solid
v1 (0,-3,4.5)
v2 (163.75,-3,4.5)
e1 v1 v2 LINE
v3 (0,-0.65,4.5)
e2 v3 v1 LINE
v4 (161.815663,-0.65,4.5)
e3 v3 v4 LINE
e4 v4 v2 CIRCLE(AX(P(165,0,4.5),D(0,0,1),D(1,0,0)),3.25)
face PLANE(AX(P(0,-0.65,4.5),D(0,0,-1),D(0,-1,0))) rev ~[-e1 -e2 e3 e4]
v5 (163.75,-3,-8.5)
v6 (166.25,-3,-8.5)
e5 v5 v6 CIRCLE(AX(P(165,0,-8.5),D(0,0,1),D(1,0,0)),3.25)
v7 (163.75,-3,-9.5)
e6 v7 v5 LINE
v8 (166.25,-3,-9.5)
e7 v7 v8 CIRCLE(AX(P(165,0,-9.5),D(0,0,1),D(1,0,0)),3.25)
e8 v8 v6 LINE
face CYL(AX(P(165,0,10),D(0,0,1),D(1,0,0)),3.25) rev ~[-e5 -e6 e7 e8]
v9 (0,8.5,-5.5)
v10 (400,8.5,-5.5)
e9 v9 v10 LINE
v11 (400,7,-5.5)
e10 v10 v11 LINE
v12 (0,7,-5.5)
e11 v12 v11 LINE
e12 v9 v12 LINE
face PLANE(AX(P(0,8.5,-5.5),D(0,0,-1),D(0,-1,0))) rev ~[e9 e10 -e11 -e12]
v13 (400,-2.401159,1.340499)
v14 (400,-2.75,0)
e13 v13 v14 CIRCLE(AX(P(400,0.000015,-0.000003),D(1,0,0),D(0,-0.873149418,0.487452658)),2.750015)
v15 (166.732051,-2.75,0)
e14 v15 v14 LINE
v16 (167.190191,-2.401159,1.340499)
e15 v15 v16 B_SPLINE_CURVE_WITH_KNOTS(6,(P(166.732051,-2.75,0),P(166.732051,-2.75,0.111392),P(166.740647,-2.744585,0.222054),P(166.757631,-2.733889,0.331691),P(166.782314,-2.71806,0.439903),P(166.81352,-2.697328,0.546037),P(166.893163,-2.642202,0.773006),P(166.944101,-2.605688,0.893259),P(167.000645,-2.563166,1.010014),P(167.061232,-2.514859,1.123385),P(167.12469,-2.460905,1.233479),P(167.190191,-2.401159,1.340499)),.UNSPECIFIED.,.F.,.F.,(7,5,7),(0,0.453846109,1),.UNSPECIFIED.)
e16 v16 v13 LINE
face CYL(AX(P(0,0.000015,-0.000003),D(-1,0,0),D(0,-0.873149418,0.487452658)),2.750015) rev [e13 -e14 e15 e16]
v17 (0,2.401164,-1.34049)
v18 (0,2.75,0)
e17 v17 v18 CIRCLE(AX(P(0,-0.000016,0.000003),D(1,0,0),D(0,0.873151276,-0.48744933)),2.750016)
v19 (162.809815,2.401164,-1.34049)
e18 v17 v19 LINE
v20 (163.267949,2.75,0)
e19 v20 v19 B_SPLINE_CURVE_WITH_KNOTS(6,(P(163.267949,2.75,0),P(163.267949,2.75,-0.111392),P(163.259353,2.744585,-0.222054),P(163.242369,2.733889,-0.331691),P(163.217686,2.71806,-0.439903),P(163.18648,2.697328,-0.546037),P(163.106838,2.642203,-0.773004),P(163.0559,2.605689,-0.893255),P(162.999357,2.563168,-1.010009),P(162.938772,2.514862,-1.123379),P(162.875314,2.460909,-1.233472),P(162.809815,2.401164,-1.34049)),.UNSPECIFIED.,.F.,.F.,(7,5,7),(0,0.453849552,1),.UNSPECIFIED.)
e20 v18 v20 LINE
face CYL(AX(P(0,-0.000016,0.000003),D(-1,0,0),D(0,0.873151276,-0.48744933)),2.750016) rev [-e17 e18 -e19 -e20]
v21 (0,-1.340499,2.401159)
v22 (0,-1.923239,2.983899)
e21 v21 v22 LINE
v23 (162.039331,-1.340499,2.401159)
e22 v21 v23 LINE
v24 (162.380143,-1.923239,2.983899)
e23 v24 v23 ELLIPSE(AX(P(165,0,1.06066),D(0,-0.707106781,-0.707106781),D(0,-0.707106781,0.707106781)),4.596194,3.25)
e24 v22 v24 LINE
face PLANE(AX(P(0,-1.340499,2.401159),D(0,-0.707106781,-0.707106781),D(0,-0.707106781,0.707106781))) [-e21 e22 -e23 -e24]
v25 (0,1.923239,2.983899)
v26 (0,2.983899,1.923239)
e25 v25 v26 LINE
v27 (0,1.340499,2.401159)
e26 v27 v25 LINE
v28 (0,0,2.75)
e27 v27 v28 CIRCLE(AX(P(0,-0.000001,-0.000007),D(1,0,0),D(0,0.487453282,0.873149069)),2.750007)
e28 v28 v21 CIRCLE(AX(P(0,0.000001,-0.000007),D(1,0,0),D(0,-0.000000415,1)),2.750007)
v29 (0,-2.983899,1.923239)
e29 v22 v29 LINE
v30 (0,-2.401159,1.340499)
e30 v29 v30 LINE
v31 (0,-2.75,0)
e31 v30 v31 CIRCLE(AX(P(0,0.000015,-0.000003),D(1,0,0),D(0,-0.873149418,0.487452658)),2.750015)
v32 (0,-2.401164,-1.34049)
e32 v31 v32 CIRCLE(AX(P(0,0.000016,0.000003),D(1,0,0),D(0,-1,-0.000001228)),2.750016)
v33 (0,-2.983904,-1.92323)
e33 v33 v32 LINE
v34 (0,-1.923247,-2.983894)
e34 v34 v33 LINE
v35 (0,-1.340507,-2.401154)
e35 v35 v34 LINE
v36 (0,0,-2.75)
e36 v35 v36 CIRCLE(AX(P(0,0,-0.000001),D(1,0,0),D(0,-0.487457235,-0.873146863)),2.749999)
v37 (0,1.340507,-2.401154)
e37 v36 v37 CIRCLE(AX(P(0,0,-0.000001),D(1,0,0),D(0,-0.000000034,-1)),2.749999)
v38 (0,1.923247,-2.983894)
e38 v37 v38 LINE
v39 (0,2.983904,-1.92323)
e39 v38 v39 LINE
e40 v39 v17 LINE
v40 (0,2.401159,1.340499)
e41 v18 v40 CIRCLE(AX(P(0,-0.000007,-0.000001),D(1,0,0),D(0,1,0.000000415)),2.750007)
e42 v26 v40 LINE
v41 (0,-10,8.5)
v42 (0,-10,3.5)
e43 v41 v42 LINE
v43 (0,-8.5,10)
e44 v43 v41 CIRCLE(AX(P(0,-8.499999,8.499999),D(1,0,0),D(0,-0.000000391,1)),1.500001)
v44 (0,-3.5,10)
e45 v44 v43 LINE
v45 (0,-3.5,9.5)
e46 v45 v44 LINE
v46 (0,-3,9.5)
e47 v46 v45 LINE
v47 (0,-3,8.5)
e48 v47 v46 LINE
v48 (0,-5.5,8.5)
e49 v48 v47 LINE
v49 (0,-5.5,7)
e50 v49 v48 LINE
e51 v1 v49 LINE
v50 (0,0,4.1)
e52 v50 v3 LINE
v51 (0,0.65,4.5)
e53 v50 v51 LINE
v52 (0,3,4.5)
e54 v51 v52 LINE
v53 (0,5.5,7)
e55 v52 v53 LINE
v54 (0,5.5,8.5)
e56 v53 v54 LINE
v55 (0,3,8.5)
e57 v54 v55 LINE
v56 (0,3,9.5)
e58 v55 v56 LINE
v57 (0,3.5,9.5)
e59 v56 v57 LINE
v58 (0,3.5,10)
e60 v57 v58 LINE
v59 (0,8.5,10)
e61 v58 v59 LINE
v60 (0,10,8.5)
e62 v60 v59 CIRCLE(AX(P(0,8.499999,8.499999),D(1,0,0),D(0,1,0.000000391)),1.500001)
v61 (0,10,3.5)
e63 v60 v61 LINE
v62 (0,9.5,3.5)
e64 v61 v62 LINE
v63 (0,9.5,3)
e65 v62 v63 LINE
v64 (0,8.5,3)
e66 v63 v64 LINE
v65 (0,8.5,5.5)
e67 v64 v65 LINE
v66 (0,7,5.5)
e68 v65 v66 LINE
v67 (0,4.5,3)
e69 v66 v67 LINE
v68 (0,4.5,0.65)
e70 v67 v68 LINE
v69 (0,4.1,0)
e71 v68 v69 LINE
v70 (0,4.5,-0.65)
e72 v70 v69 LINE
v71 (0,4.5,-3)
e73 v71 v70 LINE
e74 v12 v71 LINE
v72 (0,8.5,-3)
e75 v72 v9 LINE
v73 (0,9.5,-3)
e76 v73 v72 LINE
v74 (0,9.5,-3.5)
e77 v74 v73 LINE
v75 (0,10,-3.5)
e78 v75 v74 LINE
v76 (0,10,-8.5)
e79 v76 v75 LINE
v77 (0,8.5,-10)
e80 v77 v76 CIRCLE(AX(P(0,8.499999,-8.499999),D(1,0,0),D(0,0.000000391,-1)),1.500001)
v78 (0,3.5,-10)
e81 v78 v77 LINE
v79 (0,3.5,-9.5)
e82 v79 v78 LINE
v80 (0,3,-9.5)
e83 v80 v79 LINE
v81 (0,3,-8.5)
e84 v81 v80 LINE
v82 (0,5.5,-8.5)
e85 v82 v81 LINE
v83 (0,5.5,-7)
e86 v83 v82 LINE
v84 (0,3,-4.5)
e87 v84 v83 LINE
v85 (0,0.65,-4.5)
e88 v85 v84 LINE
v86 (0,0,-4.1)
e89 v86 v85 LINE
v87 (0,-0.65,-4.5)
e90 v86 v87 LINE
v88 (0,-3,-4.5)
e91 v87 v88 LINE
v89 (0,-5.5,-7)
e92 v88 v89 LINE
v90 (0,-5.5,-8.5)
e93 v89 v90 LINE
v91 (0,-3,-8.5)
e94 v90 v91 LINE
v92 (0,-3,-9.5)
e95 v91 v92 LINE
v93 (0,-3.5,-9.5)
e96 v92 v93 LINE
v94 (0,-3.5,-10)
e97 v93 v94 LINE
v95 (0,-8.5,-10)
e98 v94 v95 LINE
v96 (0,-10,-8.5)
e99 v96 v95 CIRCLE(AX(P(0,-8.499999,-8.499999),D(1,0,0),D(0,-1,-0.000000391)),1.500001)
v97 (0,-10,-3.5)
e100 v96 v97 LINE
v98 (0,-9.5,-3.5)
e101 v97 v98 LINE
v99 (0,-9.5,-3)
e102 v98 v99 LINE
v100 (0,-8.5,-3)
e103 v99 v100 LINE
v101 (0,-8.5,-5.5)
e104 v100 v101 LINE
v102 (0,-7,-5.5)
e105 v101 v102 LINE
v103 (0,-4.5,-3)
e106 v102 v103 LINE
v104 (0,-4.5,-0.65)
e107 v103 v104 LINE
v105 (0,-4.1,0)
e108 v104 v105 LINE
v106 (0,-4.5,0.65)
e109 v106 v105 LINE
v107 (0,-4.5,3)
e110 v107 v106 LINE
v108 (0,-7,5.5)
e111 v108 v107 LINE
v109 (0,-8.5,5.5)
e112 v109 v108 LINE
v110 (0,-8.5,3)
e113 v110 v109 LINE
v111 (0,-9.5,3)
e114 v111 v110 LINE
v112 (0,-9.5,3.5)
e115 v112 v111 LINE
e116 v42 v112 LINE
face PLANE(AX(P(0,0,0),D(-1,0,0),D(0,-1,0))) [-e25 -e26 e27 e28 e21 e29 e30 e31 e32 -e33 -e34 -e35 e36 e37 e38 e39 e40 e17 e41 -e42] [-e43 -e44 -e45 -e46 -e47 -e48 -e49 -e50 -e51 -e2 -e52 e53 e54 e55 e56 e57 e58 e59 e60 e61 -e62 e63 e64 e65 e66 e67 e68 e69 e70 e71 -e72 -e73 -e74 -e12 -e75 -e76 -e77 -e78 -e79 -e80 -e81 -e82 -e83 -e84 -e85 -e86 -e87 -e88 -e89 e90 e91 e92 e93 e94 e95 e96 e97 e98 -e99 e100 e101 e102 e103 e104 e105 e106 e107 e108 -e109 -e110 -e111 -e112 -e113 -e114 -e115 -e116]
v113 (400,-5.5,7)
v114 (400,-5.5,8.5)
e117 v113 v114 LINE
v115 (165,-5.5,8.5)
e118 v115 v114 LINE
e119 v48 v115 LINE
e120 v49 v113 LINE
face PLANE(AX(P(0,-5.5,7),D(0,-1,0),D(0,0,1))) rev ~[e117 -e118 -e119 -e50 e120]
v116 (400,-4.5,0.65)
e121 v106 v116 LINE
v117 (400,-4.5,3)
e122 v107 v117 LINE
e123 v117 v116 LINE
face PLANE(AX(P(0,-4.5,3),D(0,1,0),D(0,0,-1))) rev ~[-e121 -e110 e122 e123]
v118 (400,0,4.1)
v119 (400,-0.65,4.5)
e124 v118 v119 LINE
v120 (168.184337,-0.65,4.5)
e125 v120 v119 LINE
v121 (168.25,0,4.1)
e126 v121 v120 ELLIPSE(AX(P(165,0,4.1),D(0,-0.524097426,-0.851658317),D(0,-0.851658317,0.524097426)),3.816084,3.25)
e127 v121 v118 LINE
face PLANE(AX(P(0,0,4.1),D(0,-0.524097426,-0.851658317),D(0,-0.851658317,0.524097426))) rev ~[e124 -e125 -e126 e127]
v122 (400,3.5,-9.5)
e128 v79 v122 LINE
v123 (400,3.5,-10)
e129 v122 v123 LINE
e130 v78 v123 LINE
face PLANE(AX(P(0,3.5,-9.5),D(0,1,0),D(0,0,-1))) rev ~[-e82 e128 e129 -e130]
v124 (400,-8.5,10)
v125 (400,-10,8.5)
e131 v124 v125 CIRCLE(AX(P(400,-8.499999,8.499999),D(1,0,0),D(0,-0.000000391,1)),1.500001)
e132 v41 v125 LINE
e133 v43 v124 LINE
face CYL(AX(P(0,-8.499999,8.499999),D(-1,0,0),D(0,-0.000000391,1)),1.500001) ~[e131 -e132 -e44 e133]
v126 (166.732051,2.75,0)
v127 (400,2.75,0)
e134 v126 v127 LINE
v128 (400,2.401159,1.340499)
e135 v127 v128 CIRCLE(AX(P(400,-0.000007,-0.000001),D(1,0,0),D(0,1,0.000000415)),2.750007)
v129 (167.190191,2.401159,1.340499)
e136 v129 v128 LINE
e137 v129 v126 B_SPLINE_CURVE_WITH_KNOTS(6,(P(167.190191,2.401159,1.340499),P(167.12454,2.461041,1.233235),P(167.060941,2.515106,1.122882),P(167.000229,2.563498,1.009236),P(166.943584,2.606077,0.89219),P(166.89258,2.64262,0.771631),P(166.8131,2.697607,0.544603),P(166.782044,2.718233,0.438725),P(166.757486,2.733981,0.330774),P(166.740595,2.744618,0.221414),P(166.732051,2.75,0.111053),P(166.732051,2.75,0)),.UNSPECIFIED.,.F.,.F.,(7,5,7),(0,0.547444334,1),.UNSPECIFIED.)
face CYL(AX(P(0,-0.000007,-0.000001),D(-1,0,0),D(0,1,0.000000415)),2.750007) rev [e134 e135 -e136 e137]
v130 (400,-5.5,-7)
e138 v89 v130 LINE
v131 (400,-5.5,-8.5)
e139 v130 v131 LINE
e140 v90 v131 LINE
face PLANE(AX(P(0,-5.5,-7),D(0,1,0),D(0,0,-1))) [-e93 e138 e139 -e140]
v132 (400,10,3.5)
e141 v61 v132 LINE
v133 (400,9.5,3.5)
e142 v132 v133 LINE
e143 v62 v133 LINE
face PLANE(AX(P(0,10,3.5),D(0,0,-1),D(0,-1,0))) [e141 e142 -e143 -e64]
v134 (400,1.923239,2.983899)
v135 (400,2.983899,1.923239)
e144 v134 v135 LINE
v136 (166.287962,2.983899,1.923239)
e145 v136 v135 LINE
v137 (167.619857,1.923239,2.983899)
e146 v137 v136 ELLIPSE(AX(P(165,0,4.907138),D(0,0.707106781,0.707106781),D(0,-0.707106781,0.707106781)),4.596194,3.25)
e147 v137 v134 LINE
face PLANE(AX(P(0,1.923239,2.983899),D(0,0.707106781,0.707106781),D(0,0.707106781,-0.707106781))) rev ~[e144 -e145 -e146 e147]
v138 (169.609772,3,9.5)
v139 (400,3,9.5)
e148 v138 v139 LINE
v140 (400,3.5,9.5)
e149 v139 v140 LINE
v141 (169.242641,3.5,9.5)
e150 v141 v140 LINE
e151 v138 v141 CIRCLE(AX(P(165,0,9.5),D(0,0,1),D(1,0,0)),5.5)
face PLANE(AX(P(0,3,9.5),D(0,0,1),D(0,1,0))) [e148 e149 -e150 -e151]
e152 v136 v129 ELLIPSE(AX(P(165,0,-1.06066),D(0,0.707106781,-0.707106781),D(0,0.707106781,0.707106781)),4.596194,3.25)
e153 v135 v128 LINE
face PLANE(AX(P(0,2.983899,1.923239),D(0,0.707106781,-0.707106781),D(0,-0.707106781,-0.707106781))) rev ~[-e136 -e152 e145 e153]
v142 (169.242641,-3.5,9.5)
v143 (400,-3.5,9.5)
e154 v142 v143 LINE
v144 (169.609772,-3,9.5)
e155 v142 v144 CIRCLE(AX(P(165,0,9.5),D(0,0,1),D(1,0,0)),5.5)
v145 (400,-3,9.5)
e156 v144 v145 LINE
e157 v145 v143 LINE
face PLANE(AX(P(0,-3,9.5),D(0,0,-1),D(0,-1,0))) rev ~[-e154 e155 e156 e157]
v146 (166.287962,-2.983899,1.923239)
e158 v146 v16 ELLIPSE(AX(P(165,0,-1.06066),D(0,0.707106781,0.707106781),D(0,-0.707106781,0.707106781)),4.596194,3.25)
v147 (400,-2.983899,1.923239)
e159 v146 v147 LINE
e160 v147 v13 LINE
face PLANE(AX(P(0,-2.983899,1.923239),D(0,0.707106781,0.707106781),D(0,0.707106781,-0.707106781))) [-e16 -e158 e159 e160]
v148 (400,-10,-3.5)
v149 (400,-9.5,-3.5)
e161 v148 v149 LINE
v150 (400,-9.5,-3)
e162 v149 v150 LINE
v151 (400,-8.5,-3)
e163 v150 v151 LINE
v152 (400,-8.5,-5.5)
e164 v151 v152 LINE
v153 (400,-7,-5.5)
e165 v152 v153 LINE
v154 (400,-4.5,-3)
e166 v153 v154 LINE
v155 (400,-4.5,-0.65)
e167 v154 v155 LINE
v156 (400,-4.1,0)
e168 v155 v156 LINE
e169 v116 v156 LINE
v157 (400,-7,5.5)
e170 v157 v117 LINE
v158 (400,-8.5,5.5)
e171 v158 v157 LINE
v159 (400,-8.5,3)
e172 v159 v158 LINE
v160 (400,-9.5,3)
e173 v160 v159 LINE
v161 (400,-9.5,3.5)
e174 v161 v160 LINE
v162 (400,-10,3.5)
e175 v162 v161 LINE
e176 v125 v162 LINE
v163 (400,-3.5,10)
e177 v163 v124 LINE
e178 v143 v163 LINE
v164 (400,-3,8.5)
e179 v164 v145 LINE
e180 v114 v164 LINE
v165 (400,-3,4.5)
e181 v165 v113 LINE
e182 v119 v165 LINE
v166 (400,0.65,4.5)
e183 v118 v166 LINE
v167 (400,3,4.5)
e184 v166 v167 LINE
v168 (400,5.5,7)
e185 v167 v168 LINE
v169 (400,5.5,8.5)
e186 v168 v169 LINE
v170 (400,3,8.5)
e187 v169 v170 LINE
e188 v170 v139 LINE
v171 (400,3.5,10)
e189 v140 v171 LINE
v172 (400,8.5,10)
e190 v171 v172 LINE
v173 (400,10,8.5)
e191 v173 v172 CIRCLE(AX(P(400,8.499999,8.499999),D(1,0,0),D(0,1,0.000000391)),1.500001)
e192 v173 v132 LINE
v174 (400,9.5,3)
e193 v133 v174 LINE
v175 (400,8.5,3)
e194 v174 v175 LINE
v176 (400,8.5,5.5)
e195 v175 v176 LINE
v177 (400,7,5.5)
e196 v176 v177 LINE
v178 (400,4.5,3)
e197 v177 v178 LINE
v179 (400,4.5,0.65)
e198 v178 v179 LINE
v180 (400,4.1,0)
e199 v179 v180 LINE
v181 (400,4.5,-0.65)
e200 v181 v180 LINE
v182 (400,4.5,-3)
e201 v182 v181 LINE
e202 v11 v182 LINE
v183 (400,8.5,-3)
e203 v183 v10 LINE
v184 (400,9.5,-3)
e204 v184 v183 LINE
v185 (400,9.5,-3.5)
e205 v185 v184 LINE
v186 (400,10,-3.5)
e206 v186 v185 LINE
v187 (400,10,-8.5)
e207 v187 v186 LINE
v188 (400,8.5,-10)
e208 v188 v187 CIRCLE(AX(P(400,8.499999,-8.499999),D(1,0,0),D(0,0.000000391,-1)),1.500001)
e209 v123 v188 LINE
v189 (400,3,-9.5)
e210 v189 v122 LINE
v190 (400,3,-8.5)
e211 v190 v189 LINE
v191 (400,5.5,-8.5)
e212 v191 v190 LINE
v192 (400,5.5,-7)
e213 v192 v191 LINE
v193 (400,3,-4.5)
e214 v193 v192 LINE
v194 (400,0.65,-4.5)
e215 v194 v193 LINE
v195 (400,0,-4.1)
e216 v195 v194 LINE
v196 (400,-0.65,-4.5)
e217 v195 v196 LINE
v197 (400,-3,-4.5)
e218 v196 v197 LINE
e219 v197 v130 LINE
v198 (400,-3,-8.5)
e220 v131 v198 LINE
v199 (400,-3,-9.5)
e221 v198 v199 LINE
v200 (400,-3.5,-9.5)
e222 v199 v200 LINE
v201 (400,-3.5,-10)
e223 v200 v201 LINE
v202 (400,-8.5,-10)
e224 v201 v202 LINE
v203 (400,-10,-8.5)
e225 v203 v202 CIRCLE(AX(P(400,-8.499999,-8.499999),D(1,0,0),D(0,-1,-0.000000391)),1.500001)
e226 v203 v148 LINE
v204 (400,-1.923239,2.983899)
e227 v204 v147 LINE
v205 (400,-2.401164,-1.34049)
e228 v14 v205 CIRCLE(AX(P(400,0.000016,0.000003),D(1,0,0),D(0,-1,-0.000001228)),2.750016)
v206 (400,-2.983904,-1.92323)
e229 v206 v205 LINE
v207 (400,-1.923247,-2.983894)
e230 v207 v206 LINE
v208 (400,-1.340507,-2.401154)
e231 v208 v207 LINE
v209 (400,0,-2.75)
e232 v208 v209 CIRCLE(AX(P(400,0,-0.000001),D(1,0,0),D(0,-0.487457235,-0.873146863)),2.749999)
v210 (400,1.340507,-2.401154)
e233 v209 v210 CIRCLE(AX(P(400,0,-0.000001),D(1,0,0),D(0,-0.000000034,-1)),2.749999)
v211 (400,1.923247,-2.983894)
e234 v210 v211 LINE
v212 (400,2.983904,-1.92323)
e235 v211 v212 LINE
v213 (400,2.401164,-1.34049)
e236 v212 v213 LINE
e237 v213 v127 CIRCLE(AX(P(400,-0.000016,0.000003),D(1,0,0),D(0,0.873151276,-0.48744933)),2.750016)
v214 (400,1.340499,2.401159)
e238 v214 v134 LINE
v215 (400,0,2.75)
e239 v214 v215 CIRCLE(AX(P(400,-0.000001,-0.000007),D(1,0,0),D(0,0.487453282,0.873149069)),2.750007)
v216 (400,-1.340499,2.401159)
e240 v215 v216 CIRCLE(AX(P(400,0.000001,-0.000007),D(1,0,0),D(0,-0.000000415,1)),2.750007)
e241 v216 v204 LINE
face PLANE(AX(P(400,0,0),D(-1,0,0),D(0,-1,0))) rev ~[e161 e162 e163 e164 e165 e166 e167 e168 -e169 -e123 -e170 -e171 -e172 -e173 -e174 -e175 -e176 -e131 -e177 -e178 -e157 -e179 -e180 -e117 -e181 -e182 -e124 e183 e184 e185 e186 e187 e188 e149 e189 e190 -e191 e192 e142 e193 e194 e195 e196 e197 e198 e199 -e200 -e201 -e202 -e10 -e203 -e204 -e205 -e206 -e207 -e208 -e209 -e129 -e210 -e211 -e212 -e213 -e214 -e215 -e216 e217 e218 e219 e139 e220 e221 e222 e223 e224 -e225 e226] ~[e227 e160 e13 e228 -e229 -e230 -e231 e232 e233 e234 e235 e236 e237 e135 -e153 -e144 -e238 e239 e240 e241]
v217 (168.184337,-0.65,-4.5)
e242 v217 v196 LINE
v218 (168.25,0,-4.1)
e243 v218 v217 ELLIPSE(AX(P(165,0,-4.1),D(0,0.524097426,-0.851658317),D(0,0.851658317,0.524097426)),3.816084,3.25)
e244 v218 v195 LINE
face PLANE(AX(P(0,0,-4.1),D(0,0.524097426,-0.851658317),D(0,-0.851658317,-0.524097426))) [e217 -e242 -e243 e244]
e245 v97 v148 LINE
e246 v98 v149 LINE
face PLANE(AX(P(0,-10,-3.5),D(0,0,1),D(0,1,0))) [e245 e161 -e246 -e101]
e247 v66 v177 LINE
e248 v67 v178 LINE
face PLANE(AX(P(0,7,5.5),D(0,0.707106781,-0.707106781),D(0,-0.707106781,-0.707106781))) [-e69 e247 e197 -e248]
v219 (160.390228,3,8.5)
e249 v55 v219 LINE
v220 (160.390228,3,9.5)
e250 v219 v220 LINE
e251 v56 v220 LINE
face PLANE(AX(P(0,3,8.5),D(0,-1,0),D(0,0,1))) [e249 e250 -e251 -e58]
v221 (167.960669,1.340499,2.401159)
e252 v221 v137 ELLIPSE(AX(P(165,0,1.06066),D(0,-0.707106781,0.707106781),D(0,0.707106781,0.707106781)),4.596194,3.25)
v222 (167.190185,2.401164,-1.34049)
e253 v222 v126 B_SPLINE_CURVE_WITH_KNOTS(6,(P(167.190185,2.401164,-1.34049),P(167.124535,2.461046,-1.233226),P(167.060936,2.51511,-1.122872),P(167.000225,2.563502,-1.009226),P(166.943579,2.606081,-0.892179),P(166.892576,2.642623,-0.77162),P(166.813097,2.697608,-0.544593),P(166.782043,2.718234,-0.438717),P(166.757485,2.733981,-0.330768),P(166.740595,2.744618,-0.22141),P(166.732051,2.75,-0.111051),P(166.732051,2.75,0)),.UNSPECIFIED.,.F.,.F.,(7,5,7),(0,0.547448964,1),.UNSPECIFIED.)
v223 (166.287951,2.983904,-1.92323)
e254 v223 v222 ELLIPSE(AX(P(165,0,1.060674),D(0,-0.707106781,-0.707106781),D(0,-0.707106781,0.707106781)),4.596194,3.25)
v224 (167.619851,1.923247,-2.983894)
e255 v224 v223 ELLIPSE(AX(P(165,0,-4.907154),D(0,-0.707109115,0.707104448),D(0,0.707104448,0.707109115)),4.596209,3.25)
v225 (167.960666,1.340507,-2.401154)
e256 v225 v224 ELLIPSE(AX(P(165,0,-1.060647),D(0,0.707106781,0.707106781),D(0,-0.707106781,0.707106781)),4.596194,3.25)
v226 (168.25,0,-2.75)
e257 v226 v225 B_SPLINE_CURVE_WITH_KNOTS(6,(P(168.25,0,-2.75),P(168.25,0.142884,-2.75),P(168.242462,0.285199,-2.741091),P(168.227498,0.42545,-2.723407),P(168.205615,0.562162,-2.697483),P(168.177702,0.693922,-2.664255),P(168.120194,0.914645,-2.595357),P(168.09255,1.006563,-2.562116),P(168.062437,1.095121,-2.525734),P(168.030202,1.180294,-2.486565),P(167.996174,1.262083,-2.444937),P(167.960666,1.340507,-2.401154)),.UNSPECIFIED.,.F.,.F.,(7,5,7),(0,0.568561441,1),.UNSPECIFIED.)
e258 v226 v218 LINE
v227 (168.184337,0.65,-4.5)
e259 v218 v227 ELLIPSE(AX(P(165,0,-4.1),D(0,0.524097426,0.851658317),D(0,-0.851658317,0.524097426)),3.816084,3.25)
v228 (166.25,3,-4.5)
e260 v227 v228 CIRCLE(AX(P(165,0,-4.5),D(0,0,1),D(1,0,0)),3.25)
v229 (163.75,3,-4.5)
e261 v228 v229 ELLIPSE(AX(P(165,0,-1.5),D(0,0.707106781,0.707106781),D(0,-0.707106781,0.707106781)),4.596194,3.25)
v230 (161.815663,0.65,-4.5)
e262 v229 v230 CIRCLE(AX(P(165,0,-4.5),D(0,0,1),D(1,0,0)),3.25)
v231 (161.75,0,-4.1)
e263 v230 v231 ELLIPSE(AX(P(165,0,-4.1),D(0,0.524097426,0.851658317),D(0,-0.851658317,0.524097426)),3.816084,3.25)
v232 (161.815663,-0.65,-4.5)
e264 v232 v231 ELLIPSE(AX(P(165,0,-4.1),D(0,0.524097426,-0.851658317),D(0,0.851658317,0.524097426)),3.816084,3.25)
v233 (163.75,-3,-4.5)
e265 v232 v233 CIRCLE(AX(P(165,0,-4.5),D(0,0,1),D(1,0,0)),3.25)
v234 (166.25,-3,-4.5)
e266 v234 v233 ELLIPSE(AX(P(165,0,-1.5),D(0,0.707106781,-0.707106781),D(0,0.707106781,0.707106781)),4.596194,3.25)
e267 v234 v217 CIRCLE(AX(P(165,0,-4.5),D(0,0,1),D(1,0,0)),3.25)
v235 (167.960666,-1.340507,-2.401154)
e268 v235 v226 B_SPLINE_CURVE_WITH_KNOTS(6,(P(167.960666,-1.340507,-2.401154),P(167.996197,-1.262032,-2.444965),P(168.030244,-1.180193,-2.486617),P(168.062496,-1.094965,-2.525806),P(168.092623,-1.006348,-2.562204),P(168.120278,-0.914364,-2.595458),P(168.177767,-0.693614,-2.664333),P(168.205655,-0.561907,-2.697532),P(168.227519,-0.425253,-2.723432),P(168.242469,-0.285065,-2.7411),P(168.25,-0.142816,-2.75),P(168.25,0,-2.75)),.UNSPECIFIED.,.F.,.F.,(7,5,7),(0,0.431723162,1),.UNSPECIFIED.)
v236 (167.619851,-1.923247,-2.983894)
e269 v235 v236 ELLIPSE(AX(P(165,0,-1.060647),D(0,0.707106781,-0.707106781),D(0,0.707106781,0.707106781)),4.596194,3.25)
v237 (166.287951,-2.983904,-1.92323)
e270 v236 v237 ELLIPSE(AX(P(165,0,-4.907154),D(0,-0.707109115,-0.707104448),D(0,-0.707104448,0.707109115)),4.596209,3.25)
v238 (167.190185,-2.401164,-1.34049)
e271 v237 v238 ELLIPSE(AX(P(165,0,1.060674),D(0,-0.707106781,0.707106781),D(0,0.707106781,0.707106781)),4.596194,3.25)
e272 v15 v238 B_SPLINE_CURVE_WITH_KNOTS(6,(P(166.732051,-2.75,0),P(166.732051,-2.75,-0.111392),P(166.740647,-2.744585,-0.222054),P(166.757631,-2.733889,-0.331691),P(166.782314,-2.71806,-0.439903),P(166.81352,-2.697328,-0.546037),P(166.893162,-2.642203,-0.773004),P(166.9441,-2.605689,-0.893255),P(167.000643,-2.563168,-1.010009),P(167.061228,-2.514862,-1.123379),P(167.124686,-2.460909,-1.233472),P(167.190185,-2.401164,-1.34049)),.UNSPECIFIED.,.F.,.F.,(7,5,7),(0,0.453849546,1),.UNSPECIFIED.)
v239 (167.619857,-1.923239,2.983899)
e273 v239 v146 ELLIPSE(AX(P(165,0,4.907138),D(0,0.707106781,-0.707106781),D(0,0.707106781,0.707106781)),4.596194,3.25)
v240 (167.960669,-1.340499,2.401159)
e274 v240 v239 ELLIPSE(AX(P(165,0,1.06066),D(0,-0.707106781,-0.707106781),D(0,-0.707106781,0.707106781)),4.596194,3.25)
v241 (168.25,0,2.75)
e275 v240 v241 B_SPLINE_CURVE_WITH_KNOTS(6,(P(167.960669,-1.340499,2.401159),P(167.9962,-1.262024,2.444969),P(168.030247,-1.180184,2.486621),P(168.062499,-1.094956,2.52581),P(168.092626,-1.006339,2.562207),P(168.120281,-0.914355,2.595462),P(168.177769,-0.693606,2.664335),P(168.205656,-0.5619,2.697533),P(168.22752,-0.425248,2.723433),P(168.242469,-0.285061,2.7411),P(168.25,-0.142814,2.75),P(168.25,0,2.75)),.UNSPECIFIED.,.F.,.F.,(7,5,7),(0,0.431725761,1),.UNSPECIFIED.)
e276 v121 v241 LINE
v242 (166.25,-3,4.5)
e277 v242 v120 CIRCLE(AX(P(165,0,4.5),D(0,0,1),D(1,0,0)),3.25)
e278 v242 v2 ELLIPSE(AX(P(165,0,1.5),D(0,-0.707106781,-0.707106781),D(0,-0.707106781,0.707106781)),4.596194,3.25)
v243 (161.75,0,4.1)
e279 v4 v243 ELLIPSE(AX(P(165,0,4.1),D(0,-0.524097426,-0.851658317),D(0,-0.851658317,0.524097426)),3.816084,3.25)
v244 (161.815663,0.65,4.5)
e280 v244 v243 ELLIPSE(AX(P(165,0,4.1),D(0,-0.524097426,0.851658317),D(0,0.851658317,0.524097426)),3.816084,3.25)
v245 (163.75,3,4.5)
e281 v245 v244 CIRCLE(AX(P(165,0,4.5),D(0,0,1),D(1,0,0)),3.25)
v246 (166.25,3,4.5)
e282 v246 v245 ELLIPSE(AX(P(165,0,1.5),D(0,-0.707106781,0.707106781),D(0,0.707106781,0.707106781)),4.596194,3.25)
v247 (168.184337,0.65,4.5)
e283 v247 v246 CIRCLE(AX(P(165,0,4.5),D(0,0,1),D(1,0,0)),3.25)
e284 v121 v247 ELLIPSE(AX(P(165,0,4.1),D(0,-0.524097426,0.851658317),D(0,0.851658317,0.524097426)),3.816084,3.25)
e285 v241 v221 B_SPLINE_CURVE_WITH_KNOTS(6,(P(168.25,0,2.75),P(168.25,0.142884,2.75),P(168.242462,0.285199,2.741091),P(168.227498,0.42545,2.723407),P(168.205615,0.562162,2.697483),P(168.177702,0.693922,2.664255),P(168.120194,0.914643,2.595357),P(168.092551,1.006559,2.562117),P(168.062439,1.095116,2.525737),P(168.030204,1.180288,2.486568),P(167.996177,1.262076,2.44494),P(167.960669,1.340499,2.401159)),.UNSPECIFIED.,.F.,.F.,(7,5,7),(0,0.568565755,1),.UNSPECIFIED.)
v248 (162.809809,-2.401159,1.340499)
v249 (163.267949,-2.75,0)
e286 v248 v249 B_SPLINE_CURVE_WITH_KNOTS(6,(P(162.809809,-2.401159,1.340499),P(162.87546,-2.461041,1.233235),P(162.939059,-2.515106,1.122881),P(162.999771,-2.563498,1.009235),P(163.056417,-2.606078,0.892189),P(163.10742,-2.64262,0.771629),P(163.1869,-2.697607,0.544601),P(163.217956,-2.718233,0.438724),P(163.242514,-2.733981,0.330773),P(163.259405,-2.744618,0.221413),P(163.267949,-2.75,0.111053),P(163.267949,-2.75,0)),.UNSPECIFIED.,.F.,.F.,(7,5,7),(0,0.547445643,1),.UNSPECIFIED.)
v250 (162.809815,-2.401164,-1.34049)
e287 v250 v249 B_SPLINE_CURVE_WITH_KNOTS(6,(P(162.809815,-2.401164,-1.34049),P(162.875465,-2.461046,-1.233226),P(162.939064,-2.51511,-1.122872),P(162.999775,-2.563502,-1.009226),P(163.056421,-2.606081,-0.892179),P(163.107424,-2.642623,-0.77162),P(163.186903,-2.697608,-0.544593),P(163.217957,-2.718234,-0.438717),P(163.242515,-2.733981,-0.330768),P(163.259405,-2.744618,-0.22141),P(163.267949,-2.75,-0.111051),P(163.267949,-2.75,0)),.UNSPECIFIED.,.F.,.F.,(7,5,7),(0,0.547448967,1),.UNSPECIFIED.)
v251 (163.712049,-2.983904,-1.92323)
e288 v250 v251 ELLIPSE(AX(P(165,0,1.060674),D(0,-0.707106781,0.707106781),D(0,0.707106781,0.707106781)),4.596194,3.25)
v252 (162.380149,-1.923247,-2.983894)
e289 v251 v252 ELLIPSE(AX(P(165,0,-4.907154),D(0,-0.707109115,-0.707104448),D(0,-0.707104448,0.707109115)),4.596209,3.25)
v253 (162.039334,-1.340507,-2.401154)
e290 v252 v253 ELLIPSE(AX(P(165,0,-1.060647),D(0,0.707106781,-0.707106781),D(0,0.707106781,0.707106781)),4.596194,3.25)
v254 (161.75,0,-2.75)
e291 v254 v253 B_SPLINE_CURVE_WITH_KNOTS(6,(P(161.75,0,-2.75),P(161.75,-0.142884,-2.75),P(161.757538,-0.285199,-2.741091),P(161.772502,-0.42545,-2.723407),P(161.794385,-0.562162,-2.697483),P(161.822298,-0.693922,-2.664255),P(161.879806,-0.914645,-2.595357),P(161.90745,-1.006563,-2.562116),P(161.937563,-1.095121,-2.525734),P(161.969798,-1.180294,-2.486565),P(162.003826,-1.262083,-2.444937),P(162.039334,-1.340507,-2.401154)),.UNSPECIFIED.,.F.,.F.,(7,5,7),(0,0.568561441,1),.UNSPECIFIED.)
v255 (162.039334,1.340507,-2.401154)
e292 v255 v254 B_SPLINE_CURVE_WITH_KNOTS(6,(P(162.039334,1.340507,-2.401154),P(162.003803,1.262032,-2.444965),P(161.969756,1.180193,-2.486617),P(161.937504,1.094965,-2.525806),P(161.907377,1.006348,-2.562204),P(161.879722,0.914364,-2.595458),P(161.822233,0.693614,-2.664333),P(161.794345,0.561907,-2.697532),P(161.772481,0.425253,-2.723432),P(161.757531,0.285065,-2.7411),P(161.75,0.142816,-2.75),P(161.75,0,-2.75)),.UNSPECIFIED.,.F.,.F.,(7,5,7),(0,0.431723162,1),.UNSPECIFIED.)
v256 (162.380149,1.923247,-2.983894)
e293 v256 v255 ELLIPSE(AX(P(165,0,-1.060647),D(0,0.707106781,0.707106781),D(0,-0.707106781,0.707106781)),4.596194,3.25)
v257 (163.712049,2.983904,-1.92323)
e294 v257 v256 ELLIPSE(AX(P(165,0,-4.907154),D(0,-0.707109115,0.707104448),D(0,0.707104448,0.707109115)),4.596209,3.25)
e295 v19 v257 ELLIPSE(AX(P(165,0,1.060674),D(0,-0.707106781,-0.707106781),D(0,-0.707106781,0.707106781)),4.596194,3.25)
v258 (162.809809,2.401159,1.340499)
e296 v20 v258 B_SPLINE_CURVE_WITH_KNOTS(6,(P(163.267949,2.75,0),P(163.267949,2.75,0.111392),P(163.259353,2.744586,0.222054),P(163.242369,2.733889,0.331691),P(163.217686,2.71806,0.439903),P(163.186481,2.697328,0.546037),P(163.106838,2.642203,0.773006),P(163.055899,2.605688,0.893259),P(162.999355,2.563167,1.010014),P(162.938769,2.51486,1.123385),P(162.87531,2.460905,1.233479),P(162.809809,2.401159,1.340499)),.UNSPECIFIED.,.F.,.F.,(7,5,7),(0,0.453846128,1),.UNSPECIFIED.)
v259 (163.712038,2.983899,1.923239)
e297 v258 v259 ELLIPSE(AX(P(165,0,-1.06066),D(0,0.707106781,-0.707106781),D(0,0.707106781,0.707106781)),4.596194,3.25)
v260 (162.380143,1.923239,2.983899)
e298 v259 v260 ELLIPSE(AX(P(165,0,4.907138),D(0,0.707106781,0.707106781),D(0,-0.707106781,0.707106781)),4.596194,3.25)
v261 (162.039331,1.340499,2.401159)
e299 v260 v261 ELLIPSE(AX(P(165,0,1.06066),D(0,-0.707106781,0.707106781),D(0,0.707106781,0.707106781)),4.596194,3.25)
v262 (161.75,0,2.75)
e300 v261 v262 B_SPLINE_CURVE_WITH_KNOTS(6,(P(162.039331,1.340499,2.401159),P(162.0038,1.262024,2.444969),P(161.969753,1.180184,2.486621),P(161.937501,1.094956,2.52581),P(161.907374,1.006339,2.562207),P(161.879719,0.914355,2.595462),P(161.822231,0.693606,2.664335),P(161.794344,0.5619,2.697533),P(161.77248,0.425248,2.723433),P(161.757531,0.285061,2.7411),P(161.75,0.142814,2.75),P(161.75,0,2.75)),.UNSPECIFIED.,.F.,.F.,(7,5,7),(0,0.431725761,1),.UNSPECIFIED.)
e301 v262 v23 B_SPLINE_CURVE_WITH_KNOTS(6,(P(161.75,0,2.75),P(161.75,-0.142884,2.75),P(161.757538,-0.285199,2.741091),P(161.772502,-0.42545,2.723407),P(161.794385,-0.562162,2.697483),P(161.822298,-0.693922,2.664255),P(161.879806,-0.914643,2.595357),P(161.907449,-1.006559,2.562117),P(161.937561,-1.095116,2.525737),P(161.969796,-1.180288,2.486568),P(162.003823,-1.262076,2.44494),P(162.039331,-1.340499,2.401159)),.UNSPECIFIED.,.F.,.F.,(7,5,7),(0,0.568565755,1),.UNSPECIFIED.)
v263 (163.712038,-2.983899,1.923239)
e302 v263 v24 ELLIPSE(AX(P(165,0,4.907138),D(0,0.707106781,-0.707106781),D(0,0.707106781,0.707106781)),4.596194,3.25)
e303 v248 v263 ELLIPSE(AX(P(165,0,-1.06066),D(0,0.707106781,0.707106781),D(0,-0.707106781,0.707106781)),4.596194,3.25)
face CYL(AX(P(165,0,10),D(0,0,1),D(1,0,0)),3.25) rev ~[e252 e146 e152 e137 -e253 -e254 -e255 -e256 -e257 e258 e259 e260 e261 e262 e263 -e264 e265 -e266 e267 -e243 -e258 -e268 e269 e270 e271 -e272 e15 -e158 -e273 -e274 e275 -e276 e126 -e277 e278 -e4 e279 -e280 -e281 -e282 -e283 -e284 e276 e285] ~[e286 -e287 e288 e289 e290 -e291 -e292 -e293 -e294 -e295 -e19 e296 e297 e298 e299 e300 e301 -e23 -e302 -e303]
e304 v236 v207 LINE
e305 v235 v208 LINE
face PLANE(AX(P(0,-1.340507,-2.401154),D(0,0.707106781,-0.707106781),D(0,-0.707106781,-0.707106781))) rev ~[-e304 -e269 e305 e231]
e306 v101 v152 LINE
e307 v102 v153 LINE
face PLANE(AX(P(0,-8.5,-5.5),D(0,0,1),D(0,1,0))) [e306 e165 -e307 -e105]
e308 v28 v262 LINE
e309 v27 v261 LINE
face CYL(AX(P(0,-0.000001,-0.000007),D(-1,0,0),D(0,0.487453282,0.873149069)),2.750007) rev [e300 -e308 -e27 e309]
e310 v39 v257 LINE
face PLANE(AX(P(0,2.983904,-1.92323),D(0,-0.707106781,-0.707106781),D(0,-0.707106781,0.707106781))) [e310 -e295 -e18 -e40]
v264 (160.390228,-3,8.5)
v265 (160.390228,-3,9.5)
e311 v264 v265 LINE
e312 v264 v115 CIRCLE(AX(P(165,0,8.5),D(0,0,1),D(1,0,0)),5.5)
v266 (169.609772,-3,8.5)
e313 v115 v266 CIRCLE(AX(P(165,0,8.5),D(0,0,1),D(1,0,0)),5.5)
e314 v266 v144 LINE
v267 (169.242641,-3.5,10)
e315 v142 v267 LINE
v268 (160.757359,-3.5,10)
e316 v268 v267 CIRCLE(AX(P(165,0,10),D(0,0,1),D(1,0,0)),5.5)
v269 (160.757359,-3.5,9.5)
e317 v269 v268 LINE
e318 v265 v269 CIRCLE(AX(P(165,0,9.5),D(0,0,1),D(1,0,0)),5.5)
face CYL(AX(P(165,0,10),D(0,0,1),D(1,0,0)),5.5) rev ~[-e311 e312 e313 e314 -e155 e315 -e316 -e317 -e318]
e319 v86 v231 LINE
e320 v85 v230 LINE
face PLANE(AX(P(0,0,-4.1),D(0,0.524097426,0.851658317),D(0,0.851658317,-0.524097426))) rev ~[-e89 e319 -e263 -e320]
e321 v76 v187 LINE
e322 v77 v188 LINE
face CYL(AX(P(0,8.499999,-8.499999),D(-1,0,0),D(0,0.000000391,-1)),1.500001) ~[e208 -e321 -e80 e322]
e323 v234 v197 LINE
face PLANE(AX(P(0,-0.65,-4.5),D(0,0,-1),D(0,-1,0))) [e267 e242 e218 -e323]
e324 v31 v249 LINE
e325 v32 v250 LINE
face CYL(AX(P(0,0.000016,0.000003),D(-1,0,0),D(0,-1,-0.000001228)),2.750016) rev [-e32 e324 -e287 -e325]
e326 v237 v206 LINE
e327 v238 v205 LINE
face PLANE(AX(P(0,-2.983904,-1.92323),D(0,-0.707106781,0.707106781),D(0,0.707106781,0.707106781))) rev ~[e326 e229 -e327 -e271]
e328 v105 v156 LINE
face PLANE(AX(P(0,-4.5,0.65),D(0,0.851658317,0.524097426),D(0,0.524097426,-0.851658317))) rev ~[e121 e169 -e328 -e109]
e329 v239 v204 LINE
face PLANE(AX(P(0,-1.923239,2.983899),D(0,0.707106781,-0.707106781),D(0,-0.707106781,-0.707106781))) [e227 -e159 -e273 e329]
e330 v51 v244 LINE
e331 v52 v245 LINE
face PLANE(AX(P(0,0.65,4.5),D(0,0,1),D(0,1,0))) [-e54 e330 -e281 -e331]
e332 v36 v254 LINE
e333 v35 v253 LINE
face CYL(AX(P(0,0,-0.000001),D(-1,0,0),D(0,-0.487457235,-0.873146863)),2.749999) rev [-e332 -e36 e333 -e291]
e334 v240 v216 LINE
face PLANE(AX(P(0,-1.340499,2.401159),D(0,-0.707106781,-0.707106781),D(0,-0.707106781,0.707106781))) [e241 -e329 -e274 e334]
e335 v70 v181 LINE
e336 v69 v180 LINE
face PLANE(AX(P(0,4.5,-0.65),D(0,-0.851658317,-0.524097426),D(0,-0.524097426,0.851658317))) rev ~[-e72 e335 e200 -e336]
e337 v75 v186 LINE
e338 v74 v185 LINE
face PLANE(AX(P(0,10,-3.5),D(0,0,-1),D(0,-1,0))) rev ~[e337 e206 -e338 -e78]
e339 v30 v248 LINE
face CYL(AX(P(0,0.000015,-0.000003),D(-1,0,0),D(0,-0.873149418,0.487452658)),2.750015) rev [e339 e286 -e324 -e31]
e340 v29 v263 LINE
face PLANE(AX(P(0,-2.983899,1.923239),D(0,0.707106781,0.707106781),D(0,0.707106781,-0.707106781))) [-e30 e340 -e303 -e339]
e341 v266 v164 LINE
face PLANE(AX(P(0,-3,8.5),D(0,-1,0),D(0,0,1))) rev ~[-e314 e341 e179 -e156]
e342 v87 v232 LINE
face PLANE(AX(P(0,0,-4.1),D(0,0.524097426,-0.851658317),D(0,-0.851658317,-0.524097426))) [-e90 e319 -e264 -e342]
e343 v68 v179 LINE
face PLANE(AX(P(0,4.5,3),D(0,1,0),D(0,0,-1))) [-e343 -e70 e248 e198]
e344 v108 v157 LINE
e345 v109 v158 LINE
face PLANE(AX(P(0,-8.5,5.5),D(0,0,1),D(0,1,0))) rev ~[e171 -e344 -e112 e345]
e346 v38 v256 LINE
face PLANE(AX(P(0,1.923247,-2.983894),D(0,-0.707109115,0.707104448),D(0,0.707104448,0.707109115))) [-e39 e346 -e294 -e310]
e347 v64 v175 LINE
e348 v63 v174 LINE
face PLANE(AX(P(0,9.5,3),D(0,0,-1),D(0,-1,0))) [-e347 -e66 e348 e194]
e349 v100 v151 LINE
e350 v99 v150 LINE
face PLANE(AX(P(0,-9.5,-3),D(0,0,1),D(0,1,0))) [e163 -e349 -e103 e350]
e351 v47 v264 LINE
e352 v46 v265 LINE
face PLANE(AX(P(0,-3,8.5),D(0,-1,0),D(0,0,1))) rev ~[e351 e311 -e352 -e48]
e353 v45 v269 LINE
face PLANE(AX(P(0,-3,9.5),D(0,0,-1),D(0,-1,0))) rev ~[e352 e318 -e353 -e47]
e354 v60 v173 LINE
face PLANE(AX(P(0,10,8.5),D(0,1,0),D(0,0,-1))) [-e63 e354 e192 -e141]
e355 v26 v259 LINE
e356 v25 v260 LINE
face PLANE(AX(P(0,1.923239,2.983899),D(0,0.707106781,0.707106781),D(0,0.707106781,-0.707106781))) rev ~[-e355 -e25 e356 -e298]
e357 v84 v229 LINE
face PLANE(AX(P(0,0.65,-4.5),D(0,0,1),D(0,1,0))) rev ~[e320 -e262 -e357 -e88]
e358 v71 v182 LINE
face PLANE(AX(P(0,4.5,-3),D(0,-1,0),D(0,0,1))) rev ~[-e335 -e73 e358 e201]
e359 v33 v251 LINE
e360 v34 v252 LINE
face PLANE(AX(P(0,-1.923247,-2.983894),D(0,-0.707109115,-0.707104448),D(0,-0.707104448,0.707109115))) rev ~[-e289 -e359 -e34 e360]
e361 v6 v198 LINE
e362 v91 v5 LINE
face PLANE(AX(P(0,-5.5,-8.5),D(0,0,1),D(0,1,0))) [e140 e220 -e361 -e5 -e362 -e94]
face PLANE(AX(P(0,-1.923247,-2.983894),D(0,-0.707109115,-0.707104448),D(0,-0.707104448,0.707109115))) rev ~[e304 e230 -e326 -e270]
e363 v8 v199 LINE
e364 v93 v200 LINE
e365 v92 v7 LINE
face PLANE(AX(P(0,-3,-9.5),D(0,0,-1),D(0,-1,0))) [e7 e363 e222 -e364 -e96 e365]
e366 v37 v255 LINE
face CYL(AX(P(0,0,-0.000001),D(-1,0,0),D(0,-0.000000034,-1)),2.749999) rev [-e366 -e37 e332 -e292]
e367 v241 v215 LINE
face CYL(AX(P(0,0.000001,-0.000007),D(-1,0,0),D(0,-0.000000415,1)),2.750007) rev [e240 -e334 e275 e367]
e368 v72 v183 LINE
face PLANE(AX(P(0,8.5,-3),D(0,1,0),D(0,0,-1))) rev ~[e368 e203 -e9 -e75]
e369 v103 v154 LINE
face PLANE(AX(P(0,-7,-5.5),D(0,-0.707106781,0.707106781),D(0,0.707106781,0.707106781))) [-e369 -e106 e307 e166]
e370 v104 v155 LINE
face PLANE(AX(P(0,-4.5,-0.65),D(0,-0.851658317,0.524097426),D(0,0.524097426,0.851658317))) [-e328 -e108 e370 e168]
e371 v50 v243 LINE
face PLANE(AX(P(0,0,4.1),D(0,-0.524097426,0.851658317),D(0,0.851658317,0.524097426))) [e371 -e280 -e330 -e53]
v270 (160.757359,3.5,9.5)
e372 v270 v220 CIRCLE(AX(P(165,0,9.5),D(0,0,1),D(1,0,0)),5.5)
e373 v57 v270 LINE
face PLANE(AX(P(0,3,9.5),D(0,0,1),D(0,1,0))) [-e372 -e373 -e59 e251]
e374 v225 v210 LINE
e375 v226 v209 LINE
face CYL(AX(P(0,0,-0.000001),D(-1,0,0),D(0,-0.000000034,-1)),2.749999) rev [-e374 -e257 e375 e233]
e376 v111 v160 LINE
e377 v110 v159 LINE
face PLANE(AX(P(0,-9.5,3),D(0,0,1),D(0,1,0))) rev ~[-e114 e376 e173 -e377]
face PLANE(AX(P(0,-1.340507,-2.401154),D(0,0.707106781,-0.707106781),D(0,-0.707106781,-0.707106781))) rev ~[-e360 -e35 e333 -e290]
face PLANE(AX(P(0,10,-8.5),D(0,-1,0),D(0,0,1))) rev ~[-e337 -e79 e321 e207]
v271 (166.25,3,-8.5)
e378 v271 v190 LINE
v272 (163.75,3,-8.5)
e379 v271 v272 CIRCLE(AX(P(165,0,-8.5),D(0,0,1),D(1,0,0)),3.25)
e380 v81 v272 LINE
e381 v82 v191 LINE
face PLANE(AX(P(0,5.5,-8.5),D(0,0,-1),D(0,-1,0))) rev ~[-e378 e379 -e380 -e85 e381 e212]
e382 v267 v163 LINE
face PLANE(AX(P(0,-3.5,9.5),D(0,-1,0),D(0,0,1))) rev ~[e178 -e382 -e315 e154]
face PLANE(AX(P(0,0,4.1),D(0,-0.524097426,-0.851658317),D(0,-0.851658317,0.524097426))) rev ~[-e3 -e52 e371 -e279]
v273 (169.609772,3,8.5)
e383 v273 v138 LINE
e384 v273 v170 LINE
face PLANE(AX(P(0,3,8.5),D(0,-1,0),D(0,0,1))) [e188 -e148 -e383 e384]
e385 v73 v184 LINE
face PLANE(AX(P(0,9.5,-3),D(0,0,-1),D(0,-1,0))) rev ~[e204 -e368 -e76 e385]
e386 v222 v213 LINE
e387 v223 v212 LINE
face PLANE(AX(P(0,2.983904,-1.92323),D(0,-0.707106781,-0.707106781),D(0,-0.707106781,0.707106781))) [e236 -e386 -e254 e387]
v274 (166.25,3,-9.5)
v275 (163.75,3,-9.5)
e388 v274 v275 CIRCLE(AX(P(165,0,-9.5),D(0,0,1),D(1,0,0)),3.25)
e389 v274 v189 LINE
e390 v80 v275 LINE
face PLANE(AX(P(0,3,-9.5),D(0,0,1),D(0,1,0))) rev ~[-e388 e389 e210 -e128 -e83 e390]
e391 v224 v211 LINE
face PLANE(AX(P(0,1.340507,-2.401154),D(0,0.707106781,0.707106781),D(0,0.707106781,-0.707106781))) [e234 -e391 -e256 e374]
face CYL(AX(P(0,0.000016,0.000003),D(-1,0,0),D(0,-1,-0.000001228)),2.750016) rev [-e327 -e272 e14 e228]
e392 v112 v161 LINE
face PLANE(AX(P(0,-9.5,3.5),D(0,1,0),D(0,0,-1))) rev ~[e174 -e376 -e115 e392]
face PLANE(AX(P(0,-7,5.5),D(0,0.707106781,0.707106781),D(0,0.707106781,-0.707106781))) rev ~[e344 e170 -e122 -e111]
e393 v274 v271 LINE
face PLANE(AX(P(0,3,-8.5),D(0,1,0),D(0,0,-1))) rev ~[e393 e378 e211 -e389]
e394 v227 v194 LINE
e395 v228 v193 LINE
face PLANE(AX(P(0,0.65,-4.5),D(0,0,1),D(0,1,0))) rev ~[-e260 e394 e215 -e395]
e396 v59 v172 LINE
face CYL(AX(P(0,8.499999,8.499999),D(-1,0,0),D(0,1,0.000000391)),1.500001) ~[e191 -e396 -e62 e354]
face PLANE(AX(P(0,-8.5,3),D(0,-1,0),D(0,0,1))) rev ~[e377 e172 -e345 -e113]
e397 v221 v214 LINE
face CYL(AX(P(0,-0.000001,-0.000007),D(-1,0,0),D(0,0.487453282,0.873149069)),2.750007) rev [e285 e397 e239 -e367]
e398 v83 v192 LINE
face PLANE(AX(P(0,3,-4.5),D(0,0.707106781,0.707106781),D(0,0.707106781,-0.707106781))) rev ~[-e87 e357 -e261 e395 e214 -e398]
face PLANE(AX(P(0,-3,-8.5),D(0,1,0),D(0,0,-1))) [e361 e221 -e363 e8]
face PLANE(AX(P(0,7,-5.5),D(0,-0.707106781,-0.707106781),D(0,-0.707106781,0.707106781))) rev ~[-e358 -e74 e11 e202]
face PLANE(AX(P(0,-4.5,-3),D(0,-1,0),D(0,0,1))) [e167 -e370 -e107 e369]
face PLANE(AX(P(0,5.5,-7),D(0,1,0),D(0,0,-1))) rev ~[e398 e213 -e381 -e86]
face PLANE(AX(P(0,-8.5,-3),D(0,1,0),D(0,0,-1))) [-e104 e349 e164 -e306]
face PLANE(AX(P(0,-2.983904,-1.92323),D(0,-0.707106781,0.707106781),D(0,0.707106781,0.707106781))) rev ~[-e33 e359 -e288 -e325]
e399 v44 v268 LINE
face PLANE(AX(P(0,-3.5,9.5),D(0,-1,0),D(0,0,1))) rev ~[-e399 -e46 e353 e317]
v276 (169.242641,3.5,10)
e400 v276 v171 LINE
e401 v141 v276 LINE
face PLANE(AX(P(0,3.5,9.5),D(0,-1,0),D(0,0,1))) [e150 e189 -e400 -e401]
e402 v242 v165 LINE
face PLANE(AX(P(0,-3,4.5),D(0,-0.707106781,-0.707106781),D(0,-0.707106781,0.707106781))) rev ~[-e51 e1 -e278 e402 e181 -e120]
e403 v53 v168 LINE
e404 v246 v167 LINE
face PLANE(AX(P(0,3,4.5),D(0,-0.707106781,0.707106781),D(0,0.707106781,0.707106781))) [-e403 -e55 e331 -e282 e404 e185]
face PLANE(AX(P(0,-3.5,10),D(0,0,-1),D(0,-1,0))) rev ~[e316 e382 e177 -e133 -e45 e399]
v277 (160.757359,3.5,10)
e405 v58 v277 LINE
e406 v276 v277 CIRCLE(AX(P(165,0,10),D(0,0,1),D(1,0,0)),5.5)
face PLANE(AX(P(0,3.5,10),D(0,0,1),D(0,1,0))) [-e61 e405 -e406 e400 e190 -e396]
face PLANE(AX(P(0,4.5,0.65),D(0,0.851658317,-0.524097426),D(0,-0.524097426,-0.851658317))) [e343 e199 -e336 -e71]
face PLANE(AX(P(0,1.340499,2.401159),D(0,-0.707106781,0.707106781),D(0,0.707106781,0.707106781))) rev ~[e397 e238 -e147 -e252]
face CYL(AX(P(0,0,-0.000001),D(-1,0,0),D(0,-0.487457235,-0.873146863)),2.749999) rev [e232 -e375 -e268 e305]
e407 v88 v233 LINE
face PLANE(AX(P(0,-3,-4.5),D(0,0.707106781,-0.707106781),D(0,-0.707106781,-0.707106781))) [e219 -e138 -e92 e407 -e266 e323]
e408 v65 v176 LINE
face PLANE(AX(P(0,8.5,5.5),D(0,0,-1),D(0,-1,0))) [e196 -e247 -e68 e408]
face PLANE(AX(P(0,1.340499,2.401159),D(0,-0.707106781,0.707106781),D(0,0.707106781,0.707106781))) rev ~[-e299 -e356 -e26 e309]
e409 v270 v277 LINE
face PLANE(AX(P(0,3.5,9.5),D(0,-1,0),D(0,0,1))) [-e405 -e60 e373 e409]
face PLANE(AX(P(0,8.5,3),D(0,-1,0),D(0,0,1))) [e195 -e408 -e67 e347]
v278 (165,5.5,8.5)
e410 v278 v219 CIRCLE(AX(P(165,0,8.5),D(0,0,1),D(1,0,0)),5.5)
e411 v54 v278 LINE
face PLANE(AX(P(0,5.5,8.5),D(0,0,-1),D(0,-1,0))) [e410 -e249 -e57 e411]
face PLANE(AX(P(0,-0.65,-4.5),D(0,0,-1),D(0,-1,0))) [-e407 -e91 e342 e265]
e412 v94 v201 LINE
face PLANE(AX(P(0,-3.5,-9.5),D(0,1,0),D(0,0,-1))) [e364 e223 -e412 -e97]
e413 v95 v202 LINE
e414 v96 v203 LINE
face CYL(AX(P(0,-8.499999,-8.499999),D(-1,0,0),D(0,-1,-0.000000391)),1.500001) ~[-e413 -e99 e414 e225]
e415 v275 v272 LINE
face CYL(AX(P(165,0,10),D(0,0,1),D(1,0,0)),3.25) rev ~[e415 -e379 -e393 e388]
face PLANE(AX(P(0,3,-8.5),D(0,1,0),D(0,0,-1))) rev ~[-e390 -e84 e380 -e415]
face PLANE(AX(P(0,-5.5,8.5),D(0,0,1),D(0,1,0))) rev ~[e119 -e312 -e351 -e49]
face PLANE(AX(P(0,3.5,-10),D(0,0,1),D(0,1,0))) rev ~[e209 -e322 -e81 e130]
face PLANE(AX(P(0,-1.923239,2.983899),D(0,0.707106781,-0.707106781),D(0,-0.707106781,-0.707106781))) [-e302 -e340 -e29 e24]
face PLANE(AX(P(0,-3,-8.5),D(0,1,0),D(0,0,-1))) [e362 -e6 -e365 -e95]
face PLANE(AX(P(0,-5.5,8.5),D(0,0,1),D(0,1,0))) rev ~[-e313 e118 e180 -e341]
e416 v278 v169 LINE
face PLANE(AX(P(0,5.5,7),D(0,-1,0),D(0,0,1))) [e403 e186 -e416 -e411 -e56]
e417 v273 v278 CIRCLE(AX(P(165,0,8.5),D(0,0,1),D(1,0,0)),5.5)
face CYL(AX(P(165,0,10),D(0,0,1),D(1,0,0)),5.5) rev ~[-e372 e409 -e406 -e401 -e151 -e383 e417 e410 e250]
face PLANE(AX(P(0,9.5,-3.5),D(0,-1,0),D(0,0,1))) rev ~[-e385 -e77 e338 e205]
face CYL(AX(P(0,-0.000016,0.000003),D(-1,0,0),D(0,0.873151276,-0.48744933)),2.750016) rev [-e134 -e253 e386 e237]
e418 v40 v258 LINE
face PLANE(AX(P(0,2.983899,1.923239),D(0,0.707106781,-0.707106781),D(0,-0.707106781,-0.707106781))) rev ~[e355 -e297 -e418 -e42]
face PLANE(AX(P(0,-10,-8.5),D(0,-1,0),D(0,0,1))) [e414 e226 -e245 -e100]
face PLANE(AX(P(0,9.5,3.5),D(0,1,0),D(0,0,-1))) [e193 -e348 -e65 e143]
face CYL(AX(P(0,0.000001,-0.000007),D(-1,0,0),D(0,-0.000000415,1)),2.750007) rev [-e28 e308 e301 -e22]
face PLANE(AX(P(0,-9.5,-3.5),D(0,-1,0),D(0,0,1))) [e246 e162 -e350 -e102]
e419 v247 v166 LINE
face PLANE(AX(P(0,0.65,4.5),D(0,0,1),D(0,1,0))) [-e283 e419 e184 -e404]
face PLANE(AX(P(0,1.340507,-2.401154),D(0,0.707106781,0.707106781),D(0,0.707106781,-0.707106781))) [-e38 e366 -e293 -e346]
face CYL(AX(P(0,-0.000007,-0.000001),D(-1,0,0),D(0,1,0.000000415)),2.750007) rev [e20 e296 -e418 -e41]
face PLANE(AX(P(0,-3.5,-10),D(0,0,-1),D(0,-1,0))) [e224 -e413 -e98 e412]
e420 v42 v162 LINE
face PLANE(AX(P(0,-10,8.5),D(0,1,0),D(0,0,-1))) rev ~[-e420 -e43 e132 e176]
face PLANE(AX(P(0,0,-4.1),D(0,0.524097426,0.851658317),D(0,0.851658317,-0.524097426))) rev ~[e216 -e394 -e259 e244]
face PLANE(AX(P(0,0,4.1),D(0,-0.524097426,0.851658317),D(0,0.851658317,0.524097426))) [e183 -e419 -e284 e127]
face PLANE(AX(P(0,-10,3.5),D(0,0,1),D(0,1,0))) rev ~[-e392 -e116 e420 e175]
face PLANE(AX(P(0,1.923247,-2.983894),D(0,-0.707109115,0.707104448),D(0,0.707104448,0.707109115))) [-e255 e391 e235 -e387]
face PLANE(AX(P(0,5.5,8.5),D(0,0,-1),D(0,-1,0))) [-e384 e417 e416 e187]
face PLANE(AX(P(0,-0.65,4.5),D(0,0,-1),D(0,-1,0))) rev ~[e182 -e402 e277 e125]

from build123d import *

# Parameters (mm, degrees)
PAD_DEPTH       = 400
SKETCH001_R     = 3.25
POCKET_DEPTH    = 21
SKETCH002_R     = 5.5
POCKET001_DEPTH = 2


with BuildPart() as part:
    # Sketch → Pad (new body)
    with BuildSketch(Plane.YZ):
        with BuildLine():
            Line((0, 4.1), (0.65, 4.5))
            Line((0.65, 4.5), (3, 4.5))
            Line((3, 4.5), (5.5, 7))
            Line((5.5, 7), (5.5, 8.5))
            Line((5.5, 8.5), (3, 8.5))
            Line((3, 8.5), (3, 9.5))
            Line((3, 9.5), (3.5, 9.5))
            Line((3.5, 9.5), (3.5, 10))
            Line((3.5, 10), (8.5, 10))
            ThreePointArc((10, 8.5), (9.56066, 9.56066), (8.5, 10))
            Line((10, 8.5), (10, 3.5))
            Line((10, 3.5), (9.5, 3.5))
            Line((9.5, 3.5), (9.5, 3))
            Line((9.5, 3), (8.5, 3))
            Line((8.5, 3), (8.5, 5.5))
            Line((8.5, 5.5), (7, 5.5))
            Line((7, 5.5), (4.5, 3))
            Line((4.5, 3), (4.5, 0.65))
            Line((4.5, 0.65), (4.1, 0))
            Line((4.5, -0.65), (4.1, 0))
            Line((4.5, -3), (4.5, -0.65))
            Line((7, -5.5), (4.5, -3))
            Line((8.5, -5.5), (7, -5.5))
            Line((8.5, -3), (8.5, -5.5))
            Line((9.5, -3), (8.5, -3))
            Line((9.5, -3.5), (9.5, -3))
            Line((10, -3.5), (9.5, -3.5))
            Line((10, -8.5), (10, -3.5))
            ThreePointArc((8.5, -10), (9.56066, -9.56066), (10, -8.5))
            Line((3.5, -10), (8.5, -10))
            Line((3.5, -9.5), (3.5, -10))
            Line((3, -9.5), (3.5, -9.5))
            Line((3, -8.5), (3, -9.5))
            Line((5.5, -8.5), (3, -8.5))
            Line((5.5, -7), (5.5, -8.5))
            Line((3, -4.5), (5.5, -7))
            Line((0.65, -4.5), (3, -4.5))
            Line((0, -4.1), (0.65, -4.5))
            Line((0, -4.1), (-0.65, -4.5))
            Line((-0.65, -4.5), (-3, -4.5))
            Line((-3, -4.5), (-5.5, -7))
            Line((-5.5, -7), (-5.5, -8.5))
            Line((-5.5, -8.5), (-3, -8.5))
            Line((-3, -8.5), (-3, -9.5))
            Line((-3, -9.5), (-3.5, -9.5))
            Line((-3.5, -9.5), (-3.5, -10))
            Line((-3.5, -10), (-8.5, -10))
            ThreePointArc((-10, -8.5), (-9.56066, -9.56066), (-8.5, -10))
            Line((-10, -8.5), (-10, -3.5))
            Line((-10, -3.5), (-9.5, -3.5))
            Line((-9.5, -3.5), (-9.5, -3))
            Line((-9.5, -3), (-8.5, -3))
            Line((-8.5, -3), (-8.5, -5.5))
            Line((-8.5, -5.5), (-7, -5.5))
            Line((-7, -5.5), (-4.5, -3))
            Line((-4.5, -3), (-4.5, -0.65))
            Line((-4.5, -0.65), (-4.1, 0))
            Line((-4.5, 0.65), (-4.1, 0))
            Line((-4.5, 3), (-4.5, 0.65))
            Line((-7, 5.5), (-4.5, 3))
            Line((-8.5, 5.5), (-7, 5.5))
            Line((-8.5, 3), (-8.5, 5.5))
            Line((-9.5, 3), (-8.5, 3))
            Line((-9.5, 3.5), (-9.5, 3))
            Line((-10, 3.5), (-9.5, 3.5))
            Line((-10, 8.5), (-10, 3.5))
            ThreePointArc((-8.5, 10), (-9.56066, 9.56066), (-10, 8.5))
            Line((-3.5, 10), (-8.5, 10))
            Line((-3.5, 9.5), (-3.5, 10))
            Line((-3, 9.5), (-3.5, 9.5))
            Line((-3, 8.5), (-3, 9.5))
            Line((-5.5, 8.5), (-3, 8.5))
            Line((-5.5, 7), (-5.5, 8.5))
            Line((-3, 4.5), (-5.5, 7))
            Line((-0.65, 4.5), (-3, 4.5))
            Line((0, 4.1), (-0.65, 4.5))
        make_face()
        with BuildLine():
            Line((1.340499, 2.401159), (1.923239, 2.983899))
            Line((1.923239, 2.983899), (2.983899, 1.923239))
            Line((2.983899, 1.923239), (2.401159, 1.340499))
            ThreePointArc((2.75, 0), (2.661361, 0.692573), (2.401159, 1.340499))
            ThreePointArc((2.401164, -1.34049), (2.661362, -0.692568), (2.75, 0))
            Line((2.983904, -1.92323), (2.401164, -1.34049))
            Line((1.923247, -2.983894), (2.983904, -1.92323))
            Line((1.340507, -2.401154), (1.923247, -2.983894))
            ThreePointArc((0, -2.75), (0.692577, -2.66136), (1.340507, -2.401154))
            ThreePointArc((-1.340507, -2.401154), (-0.692577, -2.66136), (0, -2.75))
            Line((-1.340507, -2.401154), (-1.923247, -2.983894))
            Line((-1.923247, -2.983894), (-2.983904, -1.92323))
            Line((-2.983904, -1.92323), (-2.401164, -1.34049))
            ThreePointArc((-2.75, 0), (-2.661362, -0.692568), (-2.401164, -1.34049))
            ThreePointArc((-2.401159, 1.340499), (-2.661361, 0.692572), (-2.75, 0))
            Line((-2.983899, 1.923239), (-2.401159, 1.340499))
            Line((-1.923239, 2.983899), (-2.983899, 1.923239))
            Line((-1.340499, 2.401159), (-1.923239, 2.983899))
            ThreePointArc((0, 2.75), (-0.692573, 2.661361), (-1.340499, 2.401159))
            ThreePointArc((1.340499, 2.401159), (0.692573, 2.661361), (0, 2.75))
        make_face(mode=Mode.SUBTRACT)
    extrude(amount=PAD_DEPTH)

    # Sketch001 → Pocket (cut)
    with BuildSketch(Plane.XY.offset(10)):
        with Locations((165, 0)):
            Circle(SKETCH001_R)
    extrude(amount=-POCKET_DEPTH, mode=Mode.SUBTRACT)

    # Sketch002 → Pocket001 (cut)
    with BuildSketch(Plane.XY.offset(10)):
        with Locations((165, 0)):
            Circle(SKETCH002_R)
    extrude(amount=-POCKET001_DEPTH, mode=Mode.SUBTRACT)


solid = part.part
